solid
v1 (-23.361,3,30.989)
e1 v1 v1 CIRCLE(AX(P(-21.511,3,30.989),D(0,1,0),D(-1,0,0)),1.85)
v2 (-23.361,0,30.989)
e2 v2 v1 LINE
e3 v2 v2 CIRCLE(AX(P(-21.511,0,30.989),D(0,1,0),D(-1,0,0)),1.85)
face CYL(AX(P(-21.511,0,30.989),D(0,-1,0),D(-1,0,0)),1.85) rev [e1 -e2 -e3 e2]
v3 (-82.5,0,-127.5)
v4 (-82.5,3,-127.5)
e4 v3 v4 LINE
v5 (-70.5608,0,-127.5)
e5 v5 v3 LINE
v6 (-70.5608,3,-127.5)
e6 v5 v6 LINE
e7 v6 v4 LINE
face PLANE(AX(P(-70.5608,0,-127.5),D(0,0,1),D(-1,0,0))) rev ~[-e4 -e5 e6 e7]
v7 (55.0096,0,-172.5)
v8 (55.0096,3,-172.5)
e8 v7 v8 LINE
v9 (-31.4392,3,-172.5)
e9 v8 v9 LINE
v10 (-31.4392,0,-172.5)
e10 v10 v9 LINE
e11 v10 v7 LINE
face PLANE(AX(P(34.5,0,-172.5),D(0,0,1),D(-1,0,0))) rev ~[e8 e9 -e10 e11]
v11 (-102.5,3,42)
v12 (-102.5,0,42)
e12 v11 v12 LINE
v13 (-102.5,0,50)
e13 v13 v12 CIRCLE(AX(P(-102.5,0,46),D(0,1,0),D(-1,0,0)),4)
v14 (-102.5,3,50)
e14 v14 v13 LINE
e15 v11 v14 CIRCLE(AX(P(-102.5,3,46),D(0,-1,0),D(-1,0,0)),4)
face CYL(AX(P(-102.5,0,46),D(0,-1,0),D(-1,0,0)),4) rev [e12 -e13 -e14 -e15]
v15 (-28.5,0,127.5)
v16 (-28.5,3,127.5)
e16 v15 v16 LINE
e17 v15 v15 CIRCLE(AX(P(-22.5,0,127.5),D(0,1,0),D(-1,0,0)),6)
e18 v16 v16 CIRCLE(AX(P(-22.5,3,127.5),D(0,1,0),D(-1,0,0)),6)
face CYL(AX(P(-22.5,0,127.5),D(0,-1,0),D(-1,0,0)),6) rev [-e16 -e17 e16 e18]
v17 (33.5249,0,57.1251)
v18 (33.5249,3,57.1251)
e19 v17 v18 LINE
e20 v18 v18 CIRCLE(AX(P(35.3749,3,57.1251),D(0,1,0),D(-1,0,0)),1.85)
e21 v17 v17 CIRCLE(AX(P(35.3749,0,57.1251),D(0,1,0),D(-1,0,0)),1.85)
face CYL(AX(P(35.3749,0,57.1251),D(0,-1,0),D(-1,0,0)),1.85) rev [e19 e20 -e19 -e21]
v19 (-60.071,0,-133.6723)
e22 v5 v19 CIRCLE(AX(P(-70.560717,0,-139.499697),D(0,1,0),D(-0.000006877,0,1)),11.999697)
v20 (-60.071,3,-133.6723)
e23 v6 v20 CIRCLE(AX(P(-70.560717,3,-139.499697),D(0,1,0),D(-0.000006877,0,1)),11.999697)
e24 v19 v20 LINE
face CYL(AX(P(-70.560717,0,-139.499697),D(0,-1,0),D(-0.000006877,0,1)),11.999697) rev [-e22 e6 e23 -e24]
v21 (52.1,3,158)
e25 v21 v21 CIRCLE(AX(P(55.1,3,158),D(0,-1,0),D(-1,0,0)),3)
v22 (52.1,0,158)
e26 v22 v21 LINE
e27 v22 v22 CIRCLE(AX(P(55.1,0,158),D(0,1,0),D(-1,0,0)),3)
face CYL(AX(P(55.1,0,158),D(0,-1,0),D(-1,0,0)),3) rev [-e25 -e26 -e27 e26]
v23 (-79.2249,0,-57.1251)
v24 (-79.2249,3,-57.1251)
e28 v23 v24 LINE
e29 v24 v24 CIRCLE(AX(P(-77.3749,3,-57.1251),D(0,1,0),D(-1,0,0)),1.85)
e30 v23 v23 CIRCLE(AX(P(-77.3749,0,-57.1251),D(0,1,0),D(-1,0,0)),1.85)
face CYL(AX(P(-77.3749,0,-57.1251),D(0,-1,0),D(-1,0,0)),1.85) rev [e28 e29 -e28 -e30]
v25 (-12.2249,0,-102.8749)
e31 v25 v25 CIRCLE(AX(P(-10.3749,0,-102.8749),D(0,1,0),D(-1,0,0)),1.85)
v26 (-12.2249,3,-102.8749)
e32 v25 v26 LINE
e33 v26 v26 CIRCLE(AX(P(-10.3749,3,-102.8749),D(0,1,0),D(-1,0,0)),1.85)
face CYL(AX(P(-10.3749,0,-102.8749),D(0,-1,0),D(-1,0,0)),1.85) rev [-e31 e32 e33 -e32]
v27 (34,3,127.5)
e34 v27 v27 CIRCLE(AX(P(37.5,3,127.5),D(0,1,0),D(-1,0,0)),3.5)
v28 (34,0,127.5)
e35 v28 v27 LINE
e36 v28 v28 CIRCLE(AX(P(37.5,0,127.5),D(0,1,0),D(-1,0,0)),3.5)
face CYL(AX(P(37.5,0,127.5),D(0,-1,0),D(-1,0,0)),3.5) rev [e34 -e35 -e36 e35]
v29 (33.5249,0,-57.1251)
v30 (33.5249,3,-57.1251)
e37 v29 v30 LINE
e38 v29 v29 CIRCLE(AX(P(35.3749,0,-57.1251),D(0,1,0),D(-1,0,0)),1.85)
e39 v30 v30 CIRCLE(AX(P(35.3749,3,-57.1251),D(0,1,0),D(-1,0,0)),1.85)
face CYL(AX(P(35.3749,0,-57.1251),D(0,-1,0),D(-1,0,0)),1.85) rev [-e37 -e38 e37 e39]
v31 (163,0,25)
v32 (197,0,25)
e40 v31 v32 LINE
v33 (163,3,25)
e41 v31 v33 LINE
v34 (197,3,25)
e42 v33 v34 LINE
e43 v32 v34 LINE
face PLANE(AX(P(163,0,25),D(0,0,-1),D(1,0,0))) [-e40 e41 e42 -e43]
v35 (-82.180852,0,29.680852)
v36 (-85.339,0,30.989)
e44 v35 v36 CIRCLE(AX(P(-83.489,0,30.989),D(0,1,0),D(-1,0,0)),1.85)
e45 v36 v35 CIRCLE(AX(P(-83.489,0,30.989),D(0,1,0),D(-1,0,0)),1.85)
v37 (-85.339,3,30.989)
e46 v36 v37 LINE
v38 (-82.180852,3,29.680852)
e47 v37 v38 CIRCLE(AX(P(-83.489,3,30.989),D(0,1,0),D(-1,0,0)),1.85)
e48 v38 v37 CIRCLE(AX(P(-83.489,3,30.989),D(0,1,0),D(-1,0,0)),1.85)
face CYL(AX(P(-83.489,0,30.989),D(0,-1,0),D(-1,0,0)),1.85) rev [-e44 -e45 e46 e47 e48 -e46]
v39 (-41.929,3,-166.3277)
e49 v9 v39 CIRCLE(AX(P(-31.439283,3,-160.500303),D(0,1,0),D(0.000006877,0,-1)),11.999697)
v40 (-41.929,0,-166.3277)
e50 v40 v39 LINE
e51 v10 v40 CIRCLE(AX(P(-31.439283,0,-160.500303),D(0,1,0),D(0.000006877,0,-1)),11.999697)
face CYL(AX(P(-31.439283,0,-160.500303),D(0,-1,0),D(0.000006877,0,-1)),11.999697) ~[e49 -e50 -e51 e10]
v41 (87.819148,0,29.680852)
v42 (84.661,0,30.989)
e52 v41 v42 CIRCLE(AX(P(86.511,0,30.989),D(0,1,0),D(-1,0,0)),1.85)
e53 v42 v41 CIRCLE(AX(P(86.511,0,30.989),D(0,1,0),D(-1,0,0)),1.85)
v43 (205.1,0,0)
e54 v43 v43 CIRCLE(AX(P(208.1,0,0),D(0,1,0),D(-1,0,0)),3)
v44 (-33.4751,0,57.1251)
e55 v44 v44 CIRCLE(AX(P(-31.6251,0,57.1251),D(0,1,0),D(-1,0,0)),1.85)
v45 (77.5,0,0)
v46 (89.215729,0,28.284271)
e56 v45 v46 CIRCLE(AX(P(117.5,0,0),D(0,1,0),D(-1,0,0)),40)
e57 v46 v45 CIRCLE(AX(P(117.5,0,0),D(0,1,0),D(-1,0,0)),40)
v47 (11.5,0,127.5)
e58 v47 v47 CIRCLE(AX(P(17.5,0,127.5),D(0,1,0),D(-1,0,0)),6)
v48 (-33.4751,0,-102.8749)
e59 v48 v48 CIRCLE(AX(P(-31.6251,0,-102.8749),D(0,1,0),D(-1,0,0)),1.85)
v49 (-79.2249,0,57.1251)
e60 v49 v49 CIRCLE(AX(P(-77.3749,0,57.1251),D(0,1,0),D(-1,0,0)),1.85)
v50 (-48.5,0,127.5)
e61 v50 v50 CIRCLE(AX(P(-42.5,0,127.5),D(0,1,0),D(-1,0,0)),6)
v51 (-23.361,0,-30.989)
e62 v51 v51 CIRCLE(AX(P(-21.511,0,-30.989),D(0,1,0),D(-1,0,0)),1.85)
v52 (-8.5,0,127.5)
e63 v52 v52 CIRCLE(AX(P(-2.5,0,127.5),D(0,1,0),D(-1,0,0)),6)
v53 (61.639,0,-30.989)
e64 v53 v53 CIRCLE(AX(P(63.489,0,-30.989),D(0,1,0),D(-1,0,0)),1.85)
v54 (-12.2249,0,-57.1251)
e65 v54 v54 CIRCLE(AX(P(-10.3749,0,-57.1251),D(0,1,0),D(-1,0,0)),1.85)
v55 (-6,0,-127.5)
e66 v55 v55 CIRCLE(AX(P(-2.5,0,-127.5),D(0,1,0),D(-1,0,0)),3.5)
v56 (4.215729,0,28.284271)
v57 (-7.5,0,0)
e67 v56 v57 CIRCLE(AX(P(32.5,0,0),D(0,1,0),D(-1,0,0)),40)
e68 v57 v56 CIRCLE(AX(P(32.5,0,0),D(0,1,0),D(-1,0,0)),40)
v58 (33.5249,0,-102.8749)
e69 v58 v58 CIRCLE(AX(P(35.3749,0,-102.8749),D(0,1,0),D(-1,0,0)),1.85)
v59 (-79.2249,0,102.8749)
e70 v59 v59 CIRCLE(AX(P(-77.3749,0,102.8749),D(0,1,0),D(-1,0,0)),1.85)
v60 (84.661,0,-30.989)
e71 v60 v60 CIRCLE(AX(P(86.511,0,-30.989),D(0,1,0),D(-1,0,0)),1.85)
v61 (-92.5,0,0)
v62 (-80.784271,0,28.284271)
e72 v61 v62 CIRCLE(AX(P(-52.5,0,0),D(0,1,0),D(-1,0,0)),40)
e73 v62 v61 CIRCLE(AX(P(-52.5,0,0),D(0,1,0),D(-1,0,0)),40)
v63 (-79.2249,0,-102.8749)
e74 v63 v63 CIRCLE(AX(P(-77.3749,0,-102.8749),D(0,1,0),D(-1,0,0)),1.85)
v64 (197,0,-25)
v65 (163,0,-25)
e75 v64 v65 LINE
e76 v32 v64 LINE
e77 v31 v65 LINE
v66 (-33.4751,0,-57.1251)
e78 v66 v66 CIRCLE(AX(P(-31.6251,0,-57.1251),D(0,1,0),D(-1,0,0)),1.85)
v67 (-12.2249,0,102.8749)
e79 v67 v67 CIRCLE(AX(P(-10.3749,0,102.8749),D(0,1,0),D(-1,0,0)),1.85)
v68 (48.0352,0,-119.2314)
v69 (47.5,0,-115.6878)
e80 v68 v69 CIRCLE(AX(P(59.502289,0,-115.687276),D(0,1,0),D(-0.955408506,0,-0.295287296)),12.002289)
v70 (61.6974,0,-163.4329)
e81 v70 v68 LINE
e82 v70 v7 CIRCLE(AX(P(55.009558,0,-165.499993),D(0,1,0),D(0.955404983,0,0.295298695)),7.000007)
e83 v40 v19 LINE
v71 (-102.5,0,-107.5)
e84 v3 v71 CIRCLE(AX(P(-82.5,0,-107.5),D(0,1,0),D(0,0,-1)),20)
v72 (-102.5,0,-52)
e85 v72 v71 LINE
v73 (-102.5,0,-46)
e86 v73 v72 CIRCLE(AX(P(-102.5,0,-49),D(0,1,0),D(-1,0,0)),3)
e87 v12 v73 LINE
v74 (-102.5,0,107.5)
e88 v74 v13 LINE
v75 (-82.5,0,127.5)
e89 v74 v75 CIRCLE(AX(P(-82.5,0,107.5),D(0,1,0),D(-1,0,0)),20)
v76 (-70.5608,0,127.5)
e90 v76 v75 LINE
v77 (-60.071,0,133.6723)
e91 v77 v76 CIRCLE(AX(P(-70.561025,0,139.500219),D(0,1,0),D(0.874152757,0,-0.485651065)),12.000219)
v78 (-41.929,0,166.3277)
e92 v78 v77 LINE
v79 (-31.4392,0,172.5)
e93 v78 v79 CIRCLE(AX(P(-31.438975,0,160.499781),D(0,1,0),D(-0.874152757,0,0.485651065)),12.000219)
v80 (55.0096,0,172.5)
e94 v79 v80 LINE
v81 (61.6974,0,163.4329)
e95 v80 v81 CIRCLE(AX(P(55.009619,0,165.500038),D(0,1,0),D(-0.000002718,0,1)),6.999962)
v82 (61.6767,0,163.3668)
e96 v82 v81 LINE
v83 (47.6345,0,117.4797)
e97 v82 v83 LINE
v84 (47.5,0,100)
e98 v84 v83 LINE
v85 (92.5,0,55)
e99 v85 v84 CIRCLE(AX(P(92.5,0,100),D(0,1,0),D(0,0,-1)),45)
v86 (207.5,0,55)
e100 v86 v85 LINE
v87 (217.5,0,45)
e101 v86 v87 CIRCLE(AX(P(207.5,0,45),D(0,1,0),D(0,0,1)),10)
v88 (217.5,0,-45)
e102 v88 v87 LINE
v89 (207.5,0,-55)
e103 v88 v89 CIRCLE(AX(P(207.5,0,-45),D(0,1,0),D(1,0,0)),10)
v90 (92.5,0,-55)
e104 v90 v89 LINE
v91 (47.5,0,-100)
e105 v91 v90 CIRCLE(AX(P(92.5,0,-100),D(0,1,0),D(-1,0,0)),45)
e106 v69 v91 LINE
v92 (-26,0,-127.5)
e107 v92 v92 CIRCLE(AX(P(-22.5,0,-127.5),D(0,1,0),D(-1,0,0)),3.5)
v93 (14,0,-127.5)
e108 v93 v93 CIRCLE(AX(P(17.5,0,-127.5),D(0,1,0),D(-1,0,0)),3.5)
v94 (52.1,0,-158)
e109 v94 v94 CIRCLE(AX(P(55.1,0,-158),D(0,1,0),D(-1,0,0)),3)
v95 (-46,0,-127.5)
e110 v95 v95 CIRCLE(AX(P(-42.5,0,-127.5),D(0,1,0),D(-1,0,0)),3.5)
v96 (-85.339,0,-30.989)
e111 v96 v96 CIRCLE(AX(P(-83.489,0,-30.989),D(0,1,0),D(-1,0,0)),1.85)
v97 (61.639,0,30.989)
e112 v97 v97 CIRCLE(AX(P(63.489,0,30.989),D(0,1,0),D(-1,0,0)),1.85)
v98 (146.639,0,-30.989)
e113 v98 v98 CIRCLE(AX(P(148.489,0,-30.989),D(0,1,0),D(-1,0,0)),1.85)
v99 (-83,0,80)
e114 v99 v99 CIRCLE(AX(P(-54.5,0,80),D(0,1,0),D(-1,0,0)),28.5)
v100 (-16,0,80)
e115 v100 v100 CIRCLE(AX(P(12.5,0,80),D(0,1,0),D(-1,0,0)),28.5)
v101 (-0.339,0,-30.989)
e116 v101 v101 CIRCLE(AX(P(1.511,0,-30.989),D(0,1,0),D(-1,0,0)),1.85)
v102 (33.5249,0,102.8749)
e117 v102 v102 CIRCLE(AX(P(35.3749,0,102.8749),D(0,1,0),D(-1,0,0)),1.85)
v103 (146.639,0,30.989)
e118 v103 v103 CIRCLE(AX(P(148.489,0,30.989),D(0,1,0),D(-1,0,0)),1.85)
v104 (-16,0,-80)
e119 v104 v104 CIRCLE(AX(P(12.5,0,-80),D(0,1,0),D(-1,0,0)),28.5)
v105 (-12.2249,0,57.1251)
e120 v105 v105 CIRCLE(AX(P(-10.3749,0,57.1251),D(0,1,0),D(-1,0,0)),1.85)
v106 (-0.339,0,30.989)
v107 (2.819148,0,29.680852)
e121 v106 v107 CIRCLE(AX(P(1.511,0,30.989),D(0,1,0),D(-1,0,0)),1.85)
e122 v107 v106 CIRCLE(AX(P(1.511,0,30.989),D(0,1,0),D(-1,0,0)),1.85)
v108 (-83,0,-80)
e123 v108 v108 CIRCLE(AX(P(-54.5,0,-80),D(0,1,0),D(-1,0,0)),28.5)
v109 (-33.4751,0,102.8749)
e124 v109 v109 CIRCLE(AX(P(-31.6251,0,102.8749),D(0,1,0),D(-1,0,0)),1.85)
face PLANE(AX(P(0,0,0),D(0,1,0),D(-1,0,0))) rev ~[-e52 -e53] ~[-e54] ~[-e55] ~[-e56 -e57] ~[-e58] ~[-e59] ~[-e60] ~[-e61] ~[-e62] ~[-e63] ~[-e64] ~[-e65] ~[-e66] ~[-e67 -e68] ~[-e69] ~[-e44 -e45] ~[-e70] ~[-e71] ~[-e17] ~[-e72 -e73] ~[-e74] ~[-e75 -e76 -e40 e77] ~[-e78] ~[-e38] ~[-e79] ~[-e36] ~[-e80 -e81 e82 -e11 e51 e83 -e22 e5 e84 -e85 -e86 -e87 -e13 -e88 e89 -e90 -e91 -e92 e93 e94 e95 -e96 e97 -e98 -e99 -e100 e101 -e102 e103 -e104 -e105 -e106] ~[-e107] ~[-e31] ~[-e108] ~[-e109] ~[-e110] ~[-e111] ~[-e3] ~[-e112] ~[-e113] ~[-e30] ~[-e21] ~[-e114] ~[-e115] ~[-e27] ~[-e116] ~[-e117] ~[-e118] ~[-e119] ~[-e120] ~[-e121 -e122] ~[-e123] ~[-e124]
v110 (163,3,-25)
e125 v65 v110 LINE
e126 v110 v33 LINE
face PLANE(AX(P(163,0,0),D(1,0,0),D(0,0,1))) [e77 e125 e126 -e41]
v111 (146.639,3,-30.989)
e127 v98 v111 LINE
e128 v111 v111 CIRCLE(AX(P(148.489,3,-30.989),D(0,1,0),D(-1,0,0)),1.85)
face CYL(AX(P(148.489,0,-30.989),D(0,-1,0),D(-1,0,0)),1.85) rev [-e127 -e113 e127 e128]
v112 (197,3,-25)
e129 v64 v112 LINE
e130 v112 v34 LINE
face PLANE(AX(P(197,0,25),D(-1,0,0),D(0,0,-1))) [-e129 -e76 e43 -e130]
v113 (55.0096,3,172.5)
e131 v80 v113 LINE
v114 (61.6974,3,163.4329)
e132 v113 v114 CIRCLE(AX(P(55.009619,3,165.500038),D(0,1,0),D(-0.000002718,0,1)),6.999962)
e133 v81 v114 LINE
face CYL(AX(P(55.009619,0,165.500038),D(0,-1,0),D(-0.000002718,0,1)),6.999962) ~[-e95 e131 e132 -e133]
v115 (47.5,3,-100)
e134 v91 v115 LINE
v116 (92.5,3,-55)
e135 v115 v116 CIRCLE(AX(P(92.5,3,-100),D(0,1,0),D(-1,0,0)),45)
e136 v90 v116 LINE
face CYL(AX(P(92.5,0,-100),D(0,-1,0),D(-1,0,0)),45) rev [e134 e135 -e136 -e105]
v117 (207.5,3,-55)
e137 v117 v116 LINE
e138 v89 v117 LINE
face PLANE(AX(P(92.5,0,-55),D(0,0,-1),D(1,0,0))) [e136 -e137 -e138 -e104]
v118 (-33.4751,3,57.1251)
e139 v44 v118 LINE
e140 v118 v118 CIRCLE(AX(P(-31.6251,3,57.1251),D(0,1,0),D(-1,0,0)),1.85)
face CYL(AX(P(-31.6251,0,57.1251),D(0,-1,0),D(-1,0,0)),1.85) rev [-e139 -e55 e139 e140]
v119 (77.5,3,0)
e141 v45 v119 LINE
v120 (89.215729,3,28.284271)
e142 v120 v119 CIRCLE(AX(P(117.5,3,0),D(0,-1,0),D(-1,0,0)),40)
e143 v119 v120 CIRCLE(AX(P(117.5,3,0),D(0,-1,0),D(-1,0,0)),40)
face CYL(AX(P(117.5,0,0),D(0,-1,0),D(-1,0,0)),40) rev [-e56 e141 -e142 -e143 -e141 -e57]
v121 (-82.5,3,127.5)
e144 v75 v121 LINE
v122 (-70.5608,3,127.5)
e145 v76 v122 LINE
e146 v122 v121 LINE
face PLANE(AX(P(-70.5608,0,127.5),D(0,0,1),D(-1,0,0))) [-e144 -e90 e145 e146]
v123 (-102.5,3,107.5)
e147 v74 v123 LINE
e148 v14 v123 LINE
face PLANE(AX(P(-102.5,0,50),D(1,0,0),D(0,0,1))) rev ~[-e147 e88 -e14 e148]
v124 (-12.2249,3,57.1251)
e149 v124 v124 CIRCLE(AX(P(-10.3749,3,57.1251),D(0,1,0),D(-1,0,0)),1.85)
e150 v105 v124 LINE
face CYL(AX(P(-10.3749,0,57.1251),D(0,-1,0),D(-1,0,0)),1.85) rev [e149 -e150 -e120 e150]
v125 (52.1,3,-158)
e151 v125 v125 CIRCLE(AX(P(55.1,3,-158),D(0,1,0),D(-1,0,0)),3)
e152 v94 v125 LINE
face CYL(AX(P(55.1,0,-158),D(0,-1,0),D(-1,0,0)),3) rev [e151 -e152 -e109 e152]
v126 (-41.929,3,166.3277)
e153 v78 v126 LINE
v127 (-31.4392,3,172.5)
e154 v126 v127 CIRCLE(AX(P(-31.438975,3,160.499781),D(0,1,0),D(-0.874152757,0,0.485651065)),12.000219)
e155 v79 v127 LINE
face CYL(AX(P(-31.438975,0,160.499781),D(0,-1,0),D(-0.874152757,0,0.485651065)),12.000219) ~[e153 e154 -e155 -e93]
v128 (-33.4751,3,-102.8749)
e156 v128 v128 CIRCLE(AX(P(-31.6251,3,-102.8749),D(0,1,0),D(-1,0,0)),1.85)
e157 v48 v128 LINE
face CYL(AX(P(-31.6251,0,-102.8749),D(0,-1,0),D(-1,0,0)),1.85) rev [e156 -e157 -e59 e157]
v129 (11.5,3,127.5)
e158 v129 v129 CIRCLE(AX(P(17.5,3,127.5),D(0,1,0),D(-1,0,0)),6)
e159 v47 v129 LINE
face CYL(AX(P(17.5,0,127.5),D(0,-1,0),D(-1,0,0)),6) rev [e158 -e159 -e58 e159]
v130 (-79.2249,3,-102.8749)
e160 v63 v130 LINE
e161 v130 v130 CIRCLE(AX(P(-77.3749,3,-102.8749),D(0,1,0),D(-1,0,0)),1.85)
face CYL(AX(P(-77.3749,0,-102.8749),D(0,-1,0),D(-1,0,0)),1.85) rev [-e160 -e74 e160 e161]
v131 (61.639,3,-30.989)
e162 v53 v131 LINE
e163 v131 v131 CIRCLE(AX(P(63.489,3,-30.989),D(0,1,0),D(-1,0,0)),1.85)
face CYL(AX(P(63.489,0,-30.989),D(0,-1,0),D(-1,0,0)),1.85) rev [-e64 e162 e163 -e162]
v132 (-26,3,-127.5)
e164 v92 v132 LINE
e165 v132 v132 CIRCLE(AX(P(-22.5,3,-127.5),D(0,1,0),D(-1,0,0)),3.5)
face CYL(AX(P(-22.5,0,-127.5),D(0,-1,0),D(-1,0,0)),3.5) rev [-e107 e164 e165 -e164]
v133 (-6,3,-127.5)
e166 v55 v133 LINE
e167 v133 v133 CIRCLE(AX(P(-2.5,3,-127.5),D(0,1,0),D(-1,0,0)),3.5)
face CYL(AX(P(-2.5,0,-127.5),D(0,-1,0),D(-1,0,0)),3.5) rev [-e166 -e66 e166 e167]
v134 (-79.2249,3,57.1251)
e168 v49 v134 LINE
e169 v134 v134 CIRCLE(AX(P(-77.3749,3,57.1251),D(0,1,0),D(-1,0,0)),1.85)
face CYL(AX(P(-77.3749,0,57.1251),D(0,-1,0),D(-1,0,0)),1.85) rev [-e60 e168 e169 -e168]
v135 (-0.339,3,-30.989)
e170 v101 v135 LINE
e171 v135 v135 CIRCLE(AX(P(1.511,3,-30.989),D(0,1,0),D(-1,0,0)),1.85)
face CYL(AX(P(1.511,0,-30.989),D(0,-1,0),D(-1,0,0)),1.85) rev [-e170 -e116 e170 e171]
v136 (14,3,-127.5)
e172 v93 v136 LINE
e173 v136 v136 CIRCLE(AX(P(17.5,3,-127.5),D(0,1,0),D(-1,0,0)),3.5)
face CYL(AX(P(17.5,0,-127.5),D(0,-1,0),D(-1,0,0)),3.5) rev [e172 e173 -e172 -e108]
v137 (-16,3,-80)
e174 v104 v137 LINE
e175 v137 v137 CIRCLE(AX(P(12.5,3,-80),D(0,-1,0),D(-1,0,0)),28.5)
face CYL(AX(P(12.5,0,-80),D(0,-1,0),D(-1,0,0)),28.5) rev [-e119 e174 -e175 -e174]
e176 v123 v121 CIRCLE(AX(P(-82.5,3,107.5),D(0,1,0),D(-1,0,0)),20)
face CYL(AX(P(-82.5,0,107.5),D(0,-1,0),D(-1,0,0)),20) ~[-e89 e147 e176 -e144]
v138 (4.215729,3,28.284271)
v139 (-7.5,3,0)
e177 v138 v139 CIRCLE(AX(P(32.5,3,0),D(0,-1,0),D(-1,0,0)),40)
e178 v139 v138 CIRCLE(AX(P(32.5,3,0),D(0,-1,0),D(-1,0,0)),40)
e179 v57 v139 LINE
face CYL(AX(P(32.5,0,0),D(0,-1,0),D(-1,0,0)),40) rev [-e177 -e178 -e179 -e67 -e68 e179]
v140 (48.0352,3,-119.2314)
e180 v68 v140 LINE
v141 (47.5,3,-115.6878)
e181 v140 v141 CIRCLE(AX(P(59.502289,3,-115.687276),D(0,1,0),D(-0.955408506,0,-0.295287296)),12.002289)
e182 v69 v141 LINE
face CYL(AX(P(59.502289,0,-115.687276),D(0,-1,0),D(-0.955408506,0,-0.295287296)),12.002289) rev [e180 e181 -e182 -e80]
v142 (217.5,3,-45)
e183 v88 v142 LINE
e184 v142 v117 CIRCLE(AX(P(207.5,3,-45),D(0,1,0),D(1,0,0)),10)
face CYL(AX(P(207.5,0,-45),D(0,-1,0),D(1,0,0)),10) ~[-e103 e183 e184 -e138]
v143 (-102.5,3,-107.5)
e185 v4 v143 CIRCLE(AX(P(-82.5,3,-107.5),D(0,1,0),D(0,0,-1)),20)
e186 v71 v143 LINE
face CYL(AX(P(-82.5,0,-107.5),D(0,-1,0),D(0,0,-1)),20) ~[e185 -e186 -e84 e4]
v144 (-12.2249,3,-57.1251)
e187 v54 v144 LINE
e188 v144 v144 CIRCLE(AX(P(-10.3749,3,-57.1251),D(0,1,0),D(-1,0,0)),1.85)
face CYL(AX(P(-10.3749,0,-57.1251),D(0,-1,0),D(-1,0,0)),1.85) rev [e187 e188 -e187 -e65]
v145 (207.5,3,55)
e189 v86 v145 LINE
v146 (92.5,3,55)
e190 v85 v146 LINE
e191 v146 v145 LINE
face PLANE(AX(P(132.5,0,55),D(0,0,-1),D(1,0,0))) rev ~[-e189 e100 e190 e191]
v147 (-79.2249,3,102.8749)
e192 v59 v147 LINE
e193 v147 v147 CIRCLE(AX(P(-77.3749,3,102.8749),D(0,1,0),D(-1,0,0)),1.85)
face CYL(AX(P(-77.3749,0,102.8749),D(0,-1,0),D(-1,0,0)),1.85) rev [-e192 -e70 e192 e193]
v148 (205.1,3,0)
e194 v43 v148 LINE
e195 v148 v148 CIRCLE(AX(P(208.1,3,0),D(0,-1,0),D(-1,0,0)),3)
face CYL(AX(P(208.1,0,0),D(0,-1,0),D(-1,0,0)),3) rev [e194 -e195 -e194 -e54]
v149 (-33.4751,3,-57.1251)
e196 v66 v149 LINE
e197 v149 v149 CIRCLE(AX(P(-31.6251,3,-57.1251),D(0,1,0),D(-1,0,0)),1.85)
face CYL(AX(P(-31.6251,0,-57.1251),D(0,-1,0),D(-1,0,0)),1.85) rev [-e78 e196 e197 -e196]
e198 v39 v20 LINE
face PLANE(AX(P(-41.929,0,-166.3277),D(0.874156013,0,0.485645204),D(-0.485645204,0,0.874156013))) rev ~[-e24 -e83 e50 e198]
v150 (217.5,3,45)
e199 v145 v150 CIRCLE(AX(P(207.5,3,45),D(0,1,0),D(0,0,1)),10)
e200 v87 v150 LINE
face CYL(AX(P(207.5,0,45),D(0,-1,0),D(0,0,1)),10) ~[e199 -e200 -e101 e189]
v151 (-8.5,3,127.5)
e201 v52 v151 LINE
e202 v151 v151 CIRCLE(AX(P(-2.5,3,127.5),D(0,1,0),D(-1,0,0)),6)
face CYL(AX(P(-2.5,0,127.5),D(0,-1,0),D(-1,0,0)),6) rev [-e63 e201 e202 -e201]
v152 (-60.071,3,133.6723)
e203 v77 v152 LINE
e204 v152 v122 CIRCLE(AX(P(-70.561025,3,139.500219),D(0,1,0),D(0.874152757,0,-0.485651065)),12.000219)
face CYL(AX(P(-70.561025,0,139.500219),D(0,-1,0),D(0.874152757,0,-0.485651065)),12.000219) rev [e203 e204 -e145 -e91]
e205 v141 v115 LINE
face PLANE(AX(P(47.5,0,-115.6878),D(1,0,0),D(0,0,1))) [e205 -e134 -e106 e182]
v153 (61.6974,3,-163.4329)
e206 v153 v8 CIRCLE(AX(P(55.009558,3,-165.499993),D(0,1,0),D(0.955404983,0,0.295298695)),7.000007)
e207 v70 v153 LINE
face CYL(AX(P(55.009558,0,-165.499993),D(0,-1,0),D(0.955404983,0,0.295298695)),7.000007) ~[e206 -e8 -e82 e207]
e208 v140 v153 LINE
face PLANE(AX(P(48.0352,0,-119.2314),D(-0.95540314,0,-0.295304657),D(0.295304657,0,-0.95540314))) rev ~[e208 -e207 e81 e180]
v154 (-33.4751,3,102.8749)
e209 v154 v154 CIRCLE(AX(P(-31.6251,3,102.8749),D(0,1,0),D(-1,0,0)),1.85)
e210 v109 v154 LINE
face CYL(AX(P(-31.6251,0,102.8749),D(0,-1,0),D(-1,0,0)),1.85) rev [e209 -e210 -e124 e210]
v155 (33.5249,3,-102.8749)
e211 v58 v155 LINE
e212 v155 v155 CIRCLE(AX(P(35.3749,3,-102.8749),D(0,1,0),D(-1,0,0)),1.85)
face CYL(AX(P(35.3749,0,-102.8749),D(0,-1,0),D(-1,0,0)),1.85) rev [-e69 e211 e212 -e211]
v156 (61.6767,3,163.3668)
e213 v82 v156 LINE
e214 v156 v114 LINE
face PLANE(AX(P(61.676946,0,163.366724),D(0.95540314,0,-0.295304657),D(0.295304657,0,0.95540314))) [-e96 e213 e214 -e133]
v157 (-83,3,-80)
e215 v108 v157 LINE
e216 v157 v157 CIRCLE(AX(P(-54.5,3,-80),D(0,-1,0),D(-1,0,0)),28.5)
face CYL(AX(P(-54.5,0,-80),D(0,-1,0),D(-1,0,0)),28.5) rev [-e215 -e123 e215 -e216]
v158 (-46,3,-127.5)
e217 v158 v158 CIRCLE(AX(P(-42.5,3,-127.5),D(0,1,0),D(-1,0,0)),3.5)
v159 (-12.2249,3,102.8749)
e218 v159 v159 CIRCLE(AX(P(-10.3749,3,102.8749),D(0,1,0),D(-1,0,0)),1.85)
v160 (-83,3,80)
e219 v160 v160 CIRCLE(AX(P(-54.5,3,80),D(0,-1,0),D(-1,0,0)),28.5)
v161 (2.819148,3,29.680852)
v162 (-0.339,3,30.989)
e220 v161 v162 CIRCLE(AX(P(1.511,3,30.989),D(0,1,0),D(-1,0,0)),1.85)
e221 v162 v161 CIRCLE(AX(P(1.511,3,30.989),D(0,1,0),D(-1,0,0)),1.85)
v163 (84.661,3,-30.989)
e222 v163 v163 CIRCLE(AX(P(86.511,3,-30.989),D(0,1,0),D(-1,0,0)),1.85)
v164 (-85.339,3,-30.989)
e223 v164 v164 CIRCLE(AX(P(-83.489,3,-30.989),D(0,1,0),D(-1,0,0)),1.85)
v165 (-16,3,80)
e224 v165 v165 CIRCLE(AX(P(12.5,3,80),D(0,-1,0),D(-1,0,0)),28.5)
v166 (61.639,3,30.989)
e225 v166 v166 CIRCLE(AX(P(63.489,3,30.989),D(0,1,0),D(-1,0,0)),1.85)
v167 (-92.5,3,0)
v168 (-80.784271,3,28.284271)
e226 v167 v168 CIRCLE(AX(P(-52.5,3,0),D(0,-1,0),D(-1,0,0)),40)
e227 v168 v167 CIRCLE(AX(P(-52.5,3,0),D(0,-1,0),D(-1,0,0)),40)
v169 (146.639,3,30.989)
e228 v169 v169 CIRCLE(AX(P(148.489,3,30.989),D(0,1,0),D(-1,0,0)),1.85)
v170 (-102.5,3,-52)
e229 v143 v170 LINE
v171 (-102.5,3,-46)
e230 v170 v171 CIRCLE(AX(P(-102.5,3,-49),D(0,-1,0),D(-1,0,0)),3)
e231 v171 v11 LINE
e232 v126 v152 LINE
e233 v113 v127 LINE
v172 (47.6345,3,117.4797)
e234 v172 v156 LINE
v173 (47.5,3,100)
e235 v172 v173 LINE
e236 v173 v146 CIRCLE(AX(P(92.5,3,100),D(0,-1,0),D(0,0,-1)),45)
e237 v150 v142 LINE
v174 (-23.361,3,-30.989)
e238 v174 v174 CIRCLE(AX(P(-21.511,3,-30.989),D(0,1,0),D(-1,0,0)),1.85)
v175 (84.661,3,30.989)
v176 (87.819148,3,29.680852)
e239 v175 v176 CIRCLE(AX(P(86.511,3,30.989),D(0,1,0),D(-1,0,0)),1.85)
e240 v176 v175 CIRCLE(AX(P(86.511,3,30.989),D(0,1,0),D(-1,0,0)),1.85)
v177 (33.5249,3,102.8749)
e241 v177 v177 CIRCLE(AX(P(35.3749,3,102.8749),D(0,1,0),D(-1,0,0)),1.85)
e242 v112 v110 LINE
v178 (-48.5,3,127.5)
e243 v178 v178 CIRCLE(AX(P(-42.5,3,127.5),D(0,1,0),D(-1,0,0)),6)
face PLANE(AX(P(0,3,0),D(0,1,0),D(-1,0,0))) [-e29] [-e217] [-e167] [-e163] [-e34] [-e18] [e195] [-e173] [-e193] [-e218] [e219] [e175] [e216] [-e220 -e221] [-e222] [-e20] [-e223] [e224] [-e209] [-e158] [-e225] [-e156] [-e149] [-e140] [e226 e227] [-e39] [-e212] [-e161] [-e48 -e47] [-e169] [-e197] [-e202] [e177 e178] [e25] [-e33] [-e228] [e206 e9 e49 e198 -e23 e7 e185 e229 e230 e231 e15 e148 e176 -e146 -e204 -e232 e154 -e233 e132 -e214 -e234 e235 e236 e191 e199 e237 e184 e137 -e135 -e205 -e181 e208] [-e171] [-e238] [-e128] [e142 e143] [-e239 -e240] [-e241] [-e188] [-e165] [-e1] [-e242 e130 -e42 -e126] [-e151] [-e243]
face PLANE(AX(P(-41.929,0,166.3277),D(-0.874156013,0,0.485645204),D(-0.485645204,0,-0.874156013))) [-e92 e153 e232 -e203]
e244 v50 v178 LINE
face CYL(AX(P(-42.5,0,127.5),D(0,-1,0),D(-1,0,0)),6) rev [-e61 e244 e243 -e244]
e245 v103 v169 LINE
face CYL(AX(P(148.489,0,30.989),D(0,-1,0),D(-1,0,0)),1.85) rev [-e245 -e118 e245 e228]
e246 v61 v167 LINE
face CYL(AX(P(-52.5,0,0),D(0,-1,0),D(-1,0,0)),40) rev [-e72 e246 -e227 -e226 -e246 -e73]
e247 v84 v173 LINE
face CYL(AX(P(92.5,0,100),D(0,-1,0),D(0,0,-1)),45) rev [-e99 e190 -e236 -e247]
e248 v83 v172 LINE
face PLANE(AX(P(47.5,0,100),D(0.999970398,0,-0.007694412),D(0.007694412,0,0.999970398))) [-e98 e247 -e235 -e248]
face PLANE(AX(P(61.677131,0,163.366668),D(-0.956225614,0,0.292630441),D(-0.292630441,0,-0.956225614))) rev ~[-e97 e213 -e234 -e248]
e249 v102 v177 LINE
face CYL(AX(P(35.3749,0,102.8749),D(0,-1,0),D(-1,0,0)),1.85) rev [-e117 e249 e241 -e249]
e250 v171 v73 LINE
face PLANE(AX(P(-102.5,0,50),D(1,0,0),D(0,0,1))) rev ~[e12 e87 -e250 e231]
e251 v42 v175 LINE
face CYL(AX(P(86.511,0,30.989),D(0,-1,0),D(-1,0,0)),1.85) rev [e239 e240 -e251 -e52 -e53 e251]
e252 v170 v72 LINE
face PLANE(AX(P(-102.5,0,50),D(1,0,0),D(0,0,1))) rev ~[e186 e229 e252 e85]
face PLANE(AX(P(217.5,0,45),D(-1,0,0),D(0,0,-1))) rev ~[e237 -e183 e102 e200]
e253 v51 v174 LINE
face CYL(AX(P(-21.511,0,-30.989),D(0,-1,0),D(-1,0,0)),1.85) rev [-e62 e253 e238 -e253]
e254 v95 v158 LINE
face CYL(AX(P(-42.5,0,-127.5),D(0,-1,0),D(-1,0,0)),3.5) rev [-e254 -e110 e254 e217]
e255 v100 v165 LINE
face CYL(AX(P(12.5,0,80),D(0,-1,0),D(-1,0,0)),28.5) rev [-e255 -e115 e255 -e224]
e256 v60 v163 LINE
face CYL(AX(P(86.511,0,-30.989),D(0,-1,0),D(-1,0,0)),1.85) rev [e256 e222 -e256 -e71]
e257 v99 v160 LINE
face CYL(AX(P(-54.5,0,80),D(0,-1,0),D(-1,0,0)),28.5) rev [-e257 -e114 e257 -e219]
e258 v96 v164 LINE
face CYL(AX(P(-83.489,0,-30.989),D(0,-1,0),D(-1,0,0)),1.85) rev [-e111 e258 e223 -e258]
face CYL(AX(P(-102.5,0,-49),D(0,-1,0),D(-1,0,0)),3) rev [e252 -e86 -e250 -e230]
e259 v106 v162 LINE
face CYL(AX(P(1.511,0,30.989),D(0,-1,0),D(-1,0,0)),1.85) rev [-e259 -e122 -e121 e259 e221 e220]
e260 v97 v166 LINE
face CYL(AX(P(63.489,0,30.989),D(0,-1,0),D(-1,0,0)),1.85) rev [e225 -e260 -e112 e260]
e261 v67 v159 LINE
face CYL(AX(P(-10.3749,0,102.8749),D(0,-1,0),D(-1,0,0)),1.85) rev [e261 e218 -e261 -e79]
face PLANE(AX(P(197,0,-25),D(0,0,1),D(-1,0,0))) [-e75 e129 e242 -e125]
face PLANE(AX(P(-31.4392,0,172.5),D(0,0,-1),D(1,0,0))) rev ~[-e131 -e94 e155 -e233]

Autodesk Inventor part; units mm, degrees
ref_plane "YZ Plane" through (0, 0, 0) normal (1, 0, 0) x (0, 1, 0)
ref_plane "XZ Plane" through (0, 0, 0) normal (0, 1, 0) x (-1, 0, 0)
ref_plane "XY Plane" through (0, 0, 0) normal (0, 0, 1) x (1, 0, 0)
sketch "Sketch1" plane through (0, 0, 0) normal (0, 1, 0) x (-1, 0, 0)
  line L0 (31.4392, 172.5) -> (-79.5, 172.5)
  line L1 (-34.5, -172.5) -> (31.4392, -172.5)
  line L2 (102.5, -107.5) -> (102.5, 107.5)
  line L3 (102.5, 172.5) -> (-102.5, -172.5) construction
  line L4 (-102.5, 172.5) -> (102.5, -172.5) construction
  line L5 (-132.5, 55) -> (-207.5, 55)
  line L6 (-217.5, 45) -> (-217.5, -45)
  line L7 (-217.5, -55) -> (-132.5, -55)
  line L8 (41.929, 166.3277) -> (60.071, 133.6723)
  line L9 (70.5608, 127.5) -> (82.5, 127.5)
  line L10 (102.5, 0) -> (-217.5, 0)
  line L11 (41.929, -166.3277) -> (60.071, -133.6723)
  line L12 (70.5608, -127.5) -> (82.5, -127.5)
  circle A0 centre (-208.1, 0) radius 3
  arc A1 (102.5, 107.5) -> (82.5, 127.5) centre (82.5, 107.5) ccw
  arc A2 (82.5, -127.5) -> (102.5, -107.5) centre (82.5, -107.5) ccw
  line L13 (-102.5, 149.5) -> (-102.5, 85)
  line L14 (-102.5, -85) -> (-102.5, -149.5)
  arc A3 (-132.5, 55) -> (-102.5, 85) centre (-132.5, 85) ccw
  arc A4 (-102.5, -85) -> (-132.5, -55) centre (-132.5, -85) ccw
  arc A5 (-79.5, 172.5) -> (-102.5, 149.5) centre (-79.5, 149.5) ccw
  arc A6 (-102.5, -149.5) -> (-79.5, -172.5) centre (-79.5, -149.5) ccw
  circle A7 centre (-55.1, -158) radius 3
  circle A8 centre (-55.1, 158) radius 3
  circle A9 centre (52.5, 0) radius 40
  circle A10 centre (83.489, 30.989) radius 1.85
  line L15 (52.5, 0) -> (83.489, 30.989)
  circle A11 centre (21.511, 30.989) radius 1.85
  circle A12 centre (21.511, -30.989) radius 1.85
  circle A13 centre (83.489, -30.989) radius 1.85
  circle A14 centre (-32.5, 0) radius 40
  circle A15 centre (-1.511, 30.989) radius 1.85
  line L16 (-32.5, 0) -> (-1.511, 30.989)
  circle A16 centre (-63.489, 30.989) radius 1.85
  circle A17 centre (-63.489, -30.989) radius 1.85
  circle A18 centre (-1.511, -30.989) radius 1.85
  circle A19 centre (-117.5, 0) radius 40
  circle A20 centre (-86.511, 30.989) radius 1.85
  line L17 (-117.5, 0) -> (-86.511, 30.989)
  circle A21 centre (-148.489, 30.989) radius 1.85
  circle A22 centre (-148.489, -30.989) radius 1.85
  circle A23 centre (-86.511, -30.989) radius 1.85
  circle A24 centre (54.5, 80) radius 28.5
  line L18 (54.5, 80) -> (83, 80)
  line L19 (54.5, 80) -> (74.6525, 100.1525)
  circle A25 centre (77.3749, 102.8749) radius 1.85
  circle A26 centre (31.6251, 102.8749) radius 1.85
  circle A27 centre (31.6251, 57.1251) radius 1.85
  circle A28 centre (77.3749, 57.1251) radius 1.85
  circle A29 centre (-12.5, 80) radius 28.5
  line L20 (-12.5, 80) -> (16, 80)
  line L21 (-12.5, 80) -> (7.6525, 100.1525)
  circle A30 centre (10.3749, 102.8749) radius 1.85
  circle A31 centre (-35.3749, 102.8749) radius 1.85
  circle A32 centre (-35.3749, 57.1251) radius 1.85
  circle A33 centre (10.3749, 57.1251) radius 1.85
  circle A34 centre (54.5, -80) radius 28.5
  line L22 (54.5, -80) -> (83, -80)
  line L23 (54.5, -80) -> (74.6525, -59.8475)
  circle A35 centre (77.3749, -57.1251) radius 1.85
  circle A36 centre (31.6251, -57.1251) radius 1.85
  circle A37 centre (31.6251, -102.8749) radius 1.85
  circle A38 centre (77.3749, -102.8749) radius 1.85
  circle A39 centre (-12.5, -80) radius 28.5
  line L24 (-12.5, -80) -> (16, -80)
  line L25 (-12.5, -80) -> (7.6525, -59.8475)
  circle A40 centre (10.3749, -57.1251) radius 1.85
  circle A41 centre (-35.3749, -57.1251) radius 1.85
  circle A42 centre (-35.3749, -102.8749) radius 1.85
  circle A43 centre (10.3749, -102.8749) radius 1.85
  line L26 (-197, -25) -> (-163, -25)
  line L27 (-163, -25) -> (-163, 25)
  line L28 (-163, 25) -> (-197, 25)
  line L29 (-197, 25) -> (-197, -25)
  line L30 (-197, -25) -> (-163, 25) construction
  line L31 (-163, -25) -> (-197, 25) construction
  circle A44 centre (-17.5, 127.5) radius 6
  circle A45 centre (2.5, 127.5) radius 6
  circle A46 centre (22.5, 127.5) radius 6
  circle A47 centre (42.5, 127.5) radius 6
  line L32 (-79.5, -127.5) -> (-79.5, -100)
  line L33 (-124.5, -55) -> (-217.5, -55)
  line L34 (-79.5, -172.5) -> (31.4392, -172.5)
  arc A48 (-79.5, -100) -> (-124.5, -55) centre (-124.5, -100) ccw
  arc A49 (-79.5, -127.5) -> (-34.5, -172.5) centre (-34.5, -127.5) ccw
  line L35 (-34.5, 172.5) -> (31.4392, 172.5)
  line L36 (-79.5, 127.5) -> (-79.5, 100)
  line L37 (-124.5, 55) -> (-217.5, 55)
  arc A50 (-124.5, 55) -> (-79.5, 100) centre (-124.5, 100) ccw
  arc A51 (-34.5, 172.5) -> (-79.5, 127.5) centre (-34.5, 127.5) ccw
  arc A52 (31.4392, -172.5) -> (41.929, -166.3277) centre (31.4392, -160.5) ccw
  arc A53 (41.929, 166.3277) -> (31.4392, 172.5) centre (31.4392, 160.5) ccw
  arc A54 (70.5608, -127.5) -> (60.071, -133.6723) centre (70.5608, -139.5) ccw
  arc A55 (60.071, 133.6723) -> (70.5608, 127.5) centre (70.5608, 139.5) ccw
  line L38 (-47.5, -115.6878) -> (-47.5, -100)
  line L39 (-92.5, -55) -> (-207.5, -55)
  line L40 (-47.5, -172.5) -> (31.4392, -172.5)
  line L41 (-48.0352, -119.2314) -> (-61.6974, -163.4329)
  arc A56 (-47.5, -100) -> (-92.5, -55) centre (-92.5, -100) ccw
  arc A57 (-48.0352, -119.2314) -> (-47.5, -115.6878) centre (-59.5, -115.6878) ccw
  line L42 (-55.0096, -172.5) -> (31.4392, -172.5)
  arc A58 (-61.6974, -163.4329) -> (-55.0096, -172.5) centre (-55.0096, -165.5) ccw
  line L43 (-47.5, 115.6878) -> (-47.5, 100)
  line L44 (-92.5, 55) -> (-217.5, 55)
  line L45 (-48.0352, 119.2314) -> (-61.6974, 163.4329)
  arc A59 (-92.5, 55) -> (-47.5, 100) centre (-92.5, 100) ccw
  arc A60 (-47.5, 115.6878) -> (-48.0352, 119.2314) centre (-59.5, 115.6878) ccw
  line L46 (-55.0096, 172.5) -> (31.4392, 172.5)
  arc A61 (-55.0096, 172.5) -> (-61.6974, 163.4329) centre (-55.0096, 165.5) ccw
  circle A62 centre (102.5, 46) radius 4
  circle A63 centre (102.5, -49) radius 3
  circle A64 centre (-37.5, 127.5) radius 3.5
  arc A65 (-217.5, -45) -> (-207.5, -55) centre (-207.5, -45) ccw
  arc A66 (-207.5, 55) -> (-217.5, 45) centre (-207.5, 45) ccw
  circle A67 centre (42.5, -127.5) radius 3.5
  circle A68 centre (22.5, -127.5) radius 3.5
  circle A69 centre (2.5, -127.5) radius 3.5
  circle A70 centre (-17.5, -127.5) radius 3.5
  line L47 (-124.5, 55) -> (-132.5, 55)
  line L48 (-34.5, 172.5) -> (-79.5, 172.5)
  arc A71 (-61.6767, 163.3668) -> (-61.6974, 163.4329) centre (-55.0096, 165.5) ccw
  arc A72 (-61.6767, 163.3668) -> (-79.5, 127.5) centre (-34.5, 127.5) ccw
  line L49 (-79.5, 127.5) -> (-79.5, 100)
  line L50 (-61.6974, 163.4329) -> (-47.6345, 117.4797)
  line L51 (-47.5, 100) -> (-47.6345, 117.4797)
  line L52 (-92.5, 55) -> (-124.5, 55)
  line L53 (-92.5, 55) -> (-124.5, 55)
  line L54 (-92.5, 55) -> (-124.5, 55)
  line L55 (-55.0096, 172.5) -> (-79.5, 172.5)
  line L56 (-34.5, 172.5) -> (-55.0096, 172.5)
  arc A73 (-34.5, 172.5) -> (-61.6771, 163.3665) centre (-34.5, 127.5) ccw
  arc A74 (-55.0096, 172.5) -> (-61.6766, 163.3666) centre (-55.0096, 165.5) ccw
  point P0 (0, 0)
  point P1 (-102.5, 55)
  point P2 (63.5, 127.5)
  point P3 (38.5, 172.5)
  point P4 (102.5, 127.5)
  point P5 (63.5, -127.5)
  point P6 (38.5, -172.5)
  point P7 (102.5, -127.5)
  point P8 (-102.5, -55)
  point P9 (-12.5, 101)
  point P10 (69.5, -67.7951)
  point P11 (-13.8374, -72.5218)
  point P12 (-180, 0)
  point P13 (-47.5, -117.5)
  point P14 (-64.5, -172.5)
  dimension "d0" = 345
  dimension "d1" = 205
  dimension "d2" = 110
  dimension "d4" = 55
  dimension "d5" = 141
  dimension "d6" = 45
  dimension "d7" = 25
  dimension "d8" = 172.5
  dimension "d9" = 102.5
  dimension "d10" = 320
  dimension "d11" = 9.4
  dimension "d12" = 6
  dimension "d13" = 20
  dimension "d14" = 20
  dimension "d15" = 115
  dimension "d16" = 115
  dimension "d17" = 30
  dimension "d18" = 23
  dimension "d19" = 153
  dimension "d20" = 158
  dimension "d21" = 6
  dimension "d22" = 80
  dimension "d23" = 3.7
  dimension "d24" = 43.825
  dimension "d25" = 45
  dimension "d28" = 360
  dimension "d30" = 50
  dimension "d33" = 80
  dimension "d34" = 3.7
  dimension "d35" = 43.825
  dimension "d36" = 360
  dimension "d41" = 80
  dimension "d42" = 3.7
  dimension "d43" = 43.825
  dimension "d44" = 360
  dimension "d45" = 135
  dimension "d46" = 220
  dimension "d50" = 45
  dimension "d51" = 85
  dimension "d52" = 85
  dimension "d53" = 57
  dimension "d54" = 45
  dimension "d55" = 3.7
  dimension "d56" = 3.85
  dimension "d59" = 360
  dimension "d61" = 80
  dimension "d62" = 48
  dimension "d71" = 57
  dimension "d72" = 45
  dimension "d73" = 3.7
  dimension "d74" = 3.85
  dimension "d75" = 360
  dimension "d86" = 57
  dimension "d87" = 45
  dimension "d88" = 3.7
  dimension "d89" = 3.85
  dimension "d90" = 360
  dimension "d103" = 57
  dimension "d104" = 45
  dimension "d105" = 3.7
  dimension "d106" = 3.85
  dimension "d107" = 360
  dimension "d108" = 115
  dimension "d109" = 115
extrude "Extrusion1" add sketch "Sketch1" along normal blind 3 contours A53 L8 A55 L9 A1 L2 A62 L10 A9 A14 A19 L27 L28 L29 A0 L6 A66 L5 L37 L44 A59 L43 A60 L45 A71 A8 A51 L0 | A51 A71 A61 L0 | A61 L45 A51 L36 A50 L37 A3 L13 A5 L0 | A71 A8 A51 | A51 L45 A71 | L50 L51 A59 L44 A50 L36 A51 | L45 A60 L50 | A60 L43 L51 | L2 A62 | L2 A63 A2 L12 A54 L11 A52 L1 A49 L41 A57 L38 A56 L39 L33 L7 A65 L6 L10 A0 L29 L26 L27 A19 A14 A9 | L2 A63 | A9 L10 | L10 L15 A9 | A0 L10 | L10 A0 | L10 A9 L15 | A14 L10 | L10 L16 A14 | L29 L28 L27 L10 | L10 L27 L26 L29 | L10 A14 L16 | A19 L10 | L10 L17 A19 | A19 L17 L10 | A58 L41 A49 L34 picked at (102.1809, 47.2946) picked at (101.5073, -49.1205)
extrude "Extrusion2" cut sketch "Sketch1" along normal blind 3 contours A9 L10 | L10 L15 A9 | L10 A9 L15 | A14 L10 | L10 L16 A14 | L29 L28 L27 L10 | L10 L27 L26 L29 | L10 A14 L16 | A19 L10 | L10 L17 A19 | A19 L17 L10
extrude "Extrusion3" cut sketch "Sketch1" along normal blind 3 contours A62 L2 | L2 A62 | A63 L2 | L2 A63
extrude "Extrusion4" cut sketch "Sketch1" along normal blind 3 contours A0 L10 | L10 A0
extrude "Extrusion12" cut sketch "Sketch1" along normal blind 10 contours A51 A71 A61 L0 | A61 L45 A51 L36 A50 L37 A3 L13 A5 L0 | A51 L45 A71 | L50 L51 A59 L44 A50 L36 A51
extrude "Extrusion13" add sketch "Sketch1" along normal blind 3 contours A51 A71 A61 L0 | A51 L45 A71
equation "\"d4\" = 0.5 * d2"
equation "\"d8\" = 0.5 * d0"
equation "\"d9\" = 0.5 * d1"
equation "\"d16\" = d15"
properties part number "instrument_panel"
